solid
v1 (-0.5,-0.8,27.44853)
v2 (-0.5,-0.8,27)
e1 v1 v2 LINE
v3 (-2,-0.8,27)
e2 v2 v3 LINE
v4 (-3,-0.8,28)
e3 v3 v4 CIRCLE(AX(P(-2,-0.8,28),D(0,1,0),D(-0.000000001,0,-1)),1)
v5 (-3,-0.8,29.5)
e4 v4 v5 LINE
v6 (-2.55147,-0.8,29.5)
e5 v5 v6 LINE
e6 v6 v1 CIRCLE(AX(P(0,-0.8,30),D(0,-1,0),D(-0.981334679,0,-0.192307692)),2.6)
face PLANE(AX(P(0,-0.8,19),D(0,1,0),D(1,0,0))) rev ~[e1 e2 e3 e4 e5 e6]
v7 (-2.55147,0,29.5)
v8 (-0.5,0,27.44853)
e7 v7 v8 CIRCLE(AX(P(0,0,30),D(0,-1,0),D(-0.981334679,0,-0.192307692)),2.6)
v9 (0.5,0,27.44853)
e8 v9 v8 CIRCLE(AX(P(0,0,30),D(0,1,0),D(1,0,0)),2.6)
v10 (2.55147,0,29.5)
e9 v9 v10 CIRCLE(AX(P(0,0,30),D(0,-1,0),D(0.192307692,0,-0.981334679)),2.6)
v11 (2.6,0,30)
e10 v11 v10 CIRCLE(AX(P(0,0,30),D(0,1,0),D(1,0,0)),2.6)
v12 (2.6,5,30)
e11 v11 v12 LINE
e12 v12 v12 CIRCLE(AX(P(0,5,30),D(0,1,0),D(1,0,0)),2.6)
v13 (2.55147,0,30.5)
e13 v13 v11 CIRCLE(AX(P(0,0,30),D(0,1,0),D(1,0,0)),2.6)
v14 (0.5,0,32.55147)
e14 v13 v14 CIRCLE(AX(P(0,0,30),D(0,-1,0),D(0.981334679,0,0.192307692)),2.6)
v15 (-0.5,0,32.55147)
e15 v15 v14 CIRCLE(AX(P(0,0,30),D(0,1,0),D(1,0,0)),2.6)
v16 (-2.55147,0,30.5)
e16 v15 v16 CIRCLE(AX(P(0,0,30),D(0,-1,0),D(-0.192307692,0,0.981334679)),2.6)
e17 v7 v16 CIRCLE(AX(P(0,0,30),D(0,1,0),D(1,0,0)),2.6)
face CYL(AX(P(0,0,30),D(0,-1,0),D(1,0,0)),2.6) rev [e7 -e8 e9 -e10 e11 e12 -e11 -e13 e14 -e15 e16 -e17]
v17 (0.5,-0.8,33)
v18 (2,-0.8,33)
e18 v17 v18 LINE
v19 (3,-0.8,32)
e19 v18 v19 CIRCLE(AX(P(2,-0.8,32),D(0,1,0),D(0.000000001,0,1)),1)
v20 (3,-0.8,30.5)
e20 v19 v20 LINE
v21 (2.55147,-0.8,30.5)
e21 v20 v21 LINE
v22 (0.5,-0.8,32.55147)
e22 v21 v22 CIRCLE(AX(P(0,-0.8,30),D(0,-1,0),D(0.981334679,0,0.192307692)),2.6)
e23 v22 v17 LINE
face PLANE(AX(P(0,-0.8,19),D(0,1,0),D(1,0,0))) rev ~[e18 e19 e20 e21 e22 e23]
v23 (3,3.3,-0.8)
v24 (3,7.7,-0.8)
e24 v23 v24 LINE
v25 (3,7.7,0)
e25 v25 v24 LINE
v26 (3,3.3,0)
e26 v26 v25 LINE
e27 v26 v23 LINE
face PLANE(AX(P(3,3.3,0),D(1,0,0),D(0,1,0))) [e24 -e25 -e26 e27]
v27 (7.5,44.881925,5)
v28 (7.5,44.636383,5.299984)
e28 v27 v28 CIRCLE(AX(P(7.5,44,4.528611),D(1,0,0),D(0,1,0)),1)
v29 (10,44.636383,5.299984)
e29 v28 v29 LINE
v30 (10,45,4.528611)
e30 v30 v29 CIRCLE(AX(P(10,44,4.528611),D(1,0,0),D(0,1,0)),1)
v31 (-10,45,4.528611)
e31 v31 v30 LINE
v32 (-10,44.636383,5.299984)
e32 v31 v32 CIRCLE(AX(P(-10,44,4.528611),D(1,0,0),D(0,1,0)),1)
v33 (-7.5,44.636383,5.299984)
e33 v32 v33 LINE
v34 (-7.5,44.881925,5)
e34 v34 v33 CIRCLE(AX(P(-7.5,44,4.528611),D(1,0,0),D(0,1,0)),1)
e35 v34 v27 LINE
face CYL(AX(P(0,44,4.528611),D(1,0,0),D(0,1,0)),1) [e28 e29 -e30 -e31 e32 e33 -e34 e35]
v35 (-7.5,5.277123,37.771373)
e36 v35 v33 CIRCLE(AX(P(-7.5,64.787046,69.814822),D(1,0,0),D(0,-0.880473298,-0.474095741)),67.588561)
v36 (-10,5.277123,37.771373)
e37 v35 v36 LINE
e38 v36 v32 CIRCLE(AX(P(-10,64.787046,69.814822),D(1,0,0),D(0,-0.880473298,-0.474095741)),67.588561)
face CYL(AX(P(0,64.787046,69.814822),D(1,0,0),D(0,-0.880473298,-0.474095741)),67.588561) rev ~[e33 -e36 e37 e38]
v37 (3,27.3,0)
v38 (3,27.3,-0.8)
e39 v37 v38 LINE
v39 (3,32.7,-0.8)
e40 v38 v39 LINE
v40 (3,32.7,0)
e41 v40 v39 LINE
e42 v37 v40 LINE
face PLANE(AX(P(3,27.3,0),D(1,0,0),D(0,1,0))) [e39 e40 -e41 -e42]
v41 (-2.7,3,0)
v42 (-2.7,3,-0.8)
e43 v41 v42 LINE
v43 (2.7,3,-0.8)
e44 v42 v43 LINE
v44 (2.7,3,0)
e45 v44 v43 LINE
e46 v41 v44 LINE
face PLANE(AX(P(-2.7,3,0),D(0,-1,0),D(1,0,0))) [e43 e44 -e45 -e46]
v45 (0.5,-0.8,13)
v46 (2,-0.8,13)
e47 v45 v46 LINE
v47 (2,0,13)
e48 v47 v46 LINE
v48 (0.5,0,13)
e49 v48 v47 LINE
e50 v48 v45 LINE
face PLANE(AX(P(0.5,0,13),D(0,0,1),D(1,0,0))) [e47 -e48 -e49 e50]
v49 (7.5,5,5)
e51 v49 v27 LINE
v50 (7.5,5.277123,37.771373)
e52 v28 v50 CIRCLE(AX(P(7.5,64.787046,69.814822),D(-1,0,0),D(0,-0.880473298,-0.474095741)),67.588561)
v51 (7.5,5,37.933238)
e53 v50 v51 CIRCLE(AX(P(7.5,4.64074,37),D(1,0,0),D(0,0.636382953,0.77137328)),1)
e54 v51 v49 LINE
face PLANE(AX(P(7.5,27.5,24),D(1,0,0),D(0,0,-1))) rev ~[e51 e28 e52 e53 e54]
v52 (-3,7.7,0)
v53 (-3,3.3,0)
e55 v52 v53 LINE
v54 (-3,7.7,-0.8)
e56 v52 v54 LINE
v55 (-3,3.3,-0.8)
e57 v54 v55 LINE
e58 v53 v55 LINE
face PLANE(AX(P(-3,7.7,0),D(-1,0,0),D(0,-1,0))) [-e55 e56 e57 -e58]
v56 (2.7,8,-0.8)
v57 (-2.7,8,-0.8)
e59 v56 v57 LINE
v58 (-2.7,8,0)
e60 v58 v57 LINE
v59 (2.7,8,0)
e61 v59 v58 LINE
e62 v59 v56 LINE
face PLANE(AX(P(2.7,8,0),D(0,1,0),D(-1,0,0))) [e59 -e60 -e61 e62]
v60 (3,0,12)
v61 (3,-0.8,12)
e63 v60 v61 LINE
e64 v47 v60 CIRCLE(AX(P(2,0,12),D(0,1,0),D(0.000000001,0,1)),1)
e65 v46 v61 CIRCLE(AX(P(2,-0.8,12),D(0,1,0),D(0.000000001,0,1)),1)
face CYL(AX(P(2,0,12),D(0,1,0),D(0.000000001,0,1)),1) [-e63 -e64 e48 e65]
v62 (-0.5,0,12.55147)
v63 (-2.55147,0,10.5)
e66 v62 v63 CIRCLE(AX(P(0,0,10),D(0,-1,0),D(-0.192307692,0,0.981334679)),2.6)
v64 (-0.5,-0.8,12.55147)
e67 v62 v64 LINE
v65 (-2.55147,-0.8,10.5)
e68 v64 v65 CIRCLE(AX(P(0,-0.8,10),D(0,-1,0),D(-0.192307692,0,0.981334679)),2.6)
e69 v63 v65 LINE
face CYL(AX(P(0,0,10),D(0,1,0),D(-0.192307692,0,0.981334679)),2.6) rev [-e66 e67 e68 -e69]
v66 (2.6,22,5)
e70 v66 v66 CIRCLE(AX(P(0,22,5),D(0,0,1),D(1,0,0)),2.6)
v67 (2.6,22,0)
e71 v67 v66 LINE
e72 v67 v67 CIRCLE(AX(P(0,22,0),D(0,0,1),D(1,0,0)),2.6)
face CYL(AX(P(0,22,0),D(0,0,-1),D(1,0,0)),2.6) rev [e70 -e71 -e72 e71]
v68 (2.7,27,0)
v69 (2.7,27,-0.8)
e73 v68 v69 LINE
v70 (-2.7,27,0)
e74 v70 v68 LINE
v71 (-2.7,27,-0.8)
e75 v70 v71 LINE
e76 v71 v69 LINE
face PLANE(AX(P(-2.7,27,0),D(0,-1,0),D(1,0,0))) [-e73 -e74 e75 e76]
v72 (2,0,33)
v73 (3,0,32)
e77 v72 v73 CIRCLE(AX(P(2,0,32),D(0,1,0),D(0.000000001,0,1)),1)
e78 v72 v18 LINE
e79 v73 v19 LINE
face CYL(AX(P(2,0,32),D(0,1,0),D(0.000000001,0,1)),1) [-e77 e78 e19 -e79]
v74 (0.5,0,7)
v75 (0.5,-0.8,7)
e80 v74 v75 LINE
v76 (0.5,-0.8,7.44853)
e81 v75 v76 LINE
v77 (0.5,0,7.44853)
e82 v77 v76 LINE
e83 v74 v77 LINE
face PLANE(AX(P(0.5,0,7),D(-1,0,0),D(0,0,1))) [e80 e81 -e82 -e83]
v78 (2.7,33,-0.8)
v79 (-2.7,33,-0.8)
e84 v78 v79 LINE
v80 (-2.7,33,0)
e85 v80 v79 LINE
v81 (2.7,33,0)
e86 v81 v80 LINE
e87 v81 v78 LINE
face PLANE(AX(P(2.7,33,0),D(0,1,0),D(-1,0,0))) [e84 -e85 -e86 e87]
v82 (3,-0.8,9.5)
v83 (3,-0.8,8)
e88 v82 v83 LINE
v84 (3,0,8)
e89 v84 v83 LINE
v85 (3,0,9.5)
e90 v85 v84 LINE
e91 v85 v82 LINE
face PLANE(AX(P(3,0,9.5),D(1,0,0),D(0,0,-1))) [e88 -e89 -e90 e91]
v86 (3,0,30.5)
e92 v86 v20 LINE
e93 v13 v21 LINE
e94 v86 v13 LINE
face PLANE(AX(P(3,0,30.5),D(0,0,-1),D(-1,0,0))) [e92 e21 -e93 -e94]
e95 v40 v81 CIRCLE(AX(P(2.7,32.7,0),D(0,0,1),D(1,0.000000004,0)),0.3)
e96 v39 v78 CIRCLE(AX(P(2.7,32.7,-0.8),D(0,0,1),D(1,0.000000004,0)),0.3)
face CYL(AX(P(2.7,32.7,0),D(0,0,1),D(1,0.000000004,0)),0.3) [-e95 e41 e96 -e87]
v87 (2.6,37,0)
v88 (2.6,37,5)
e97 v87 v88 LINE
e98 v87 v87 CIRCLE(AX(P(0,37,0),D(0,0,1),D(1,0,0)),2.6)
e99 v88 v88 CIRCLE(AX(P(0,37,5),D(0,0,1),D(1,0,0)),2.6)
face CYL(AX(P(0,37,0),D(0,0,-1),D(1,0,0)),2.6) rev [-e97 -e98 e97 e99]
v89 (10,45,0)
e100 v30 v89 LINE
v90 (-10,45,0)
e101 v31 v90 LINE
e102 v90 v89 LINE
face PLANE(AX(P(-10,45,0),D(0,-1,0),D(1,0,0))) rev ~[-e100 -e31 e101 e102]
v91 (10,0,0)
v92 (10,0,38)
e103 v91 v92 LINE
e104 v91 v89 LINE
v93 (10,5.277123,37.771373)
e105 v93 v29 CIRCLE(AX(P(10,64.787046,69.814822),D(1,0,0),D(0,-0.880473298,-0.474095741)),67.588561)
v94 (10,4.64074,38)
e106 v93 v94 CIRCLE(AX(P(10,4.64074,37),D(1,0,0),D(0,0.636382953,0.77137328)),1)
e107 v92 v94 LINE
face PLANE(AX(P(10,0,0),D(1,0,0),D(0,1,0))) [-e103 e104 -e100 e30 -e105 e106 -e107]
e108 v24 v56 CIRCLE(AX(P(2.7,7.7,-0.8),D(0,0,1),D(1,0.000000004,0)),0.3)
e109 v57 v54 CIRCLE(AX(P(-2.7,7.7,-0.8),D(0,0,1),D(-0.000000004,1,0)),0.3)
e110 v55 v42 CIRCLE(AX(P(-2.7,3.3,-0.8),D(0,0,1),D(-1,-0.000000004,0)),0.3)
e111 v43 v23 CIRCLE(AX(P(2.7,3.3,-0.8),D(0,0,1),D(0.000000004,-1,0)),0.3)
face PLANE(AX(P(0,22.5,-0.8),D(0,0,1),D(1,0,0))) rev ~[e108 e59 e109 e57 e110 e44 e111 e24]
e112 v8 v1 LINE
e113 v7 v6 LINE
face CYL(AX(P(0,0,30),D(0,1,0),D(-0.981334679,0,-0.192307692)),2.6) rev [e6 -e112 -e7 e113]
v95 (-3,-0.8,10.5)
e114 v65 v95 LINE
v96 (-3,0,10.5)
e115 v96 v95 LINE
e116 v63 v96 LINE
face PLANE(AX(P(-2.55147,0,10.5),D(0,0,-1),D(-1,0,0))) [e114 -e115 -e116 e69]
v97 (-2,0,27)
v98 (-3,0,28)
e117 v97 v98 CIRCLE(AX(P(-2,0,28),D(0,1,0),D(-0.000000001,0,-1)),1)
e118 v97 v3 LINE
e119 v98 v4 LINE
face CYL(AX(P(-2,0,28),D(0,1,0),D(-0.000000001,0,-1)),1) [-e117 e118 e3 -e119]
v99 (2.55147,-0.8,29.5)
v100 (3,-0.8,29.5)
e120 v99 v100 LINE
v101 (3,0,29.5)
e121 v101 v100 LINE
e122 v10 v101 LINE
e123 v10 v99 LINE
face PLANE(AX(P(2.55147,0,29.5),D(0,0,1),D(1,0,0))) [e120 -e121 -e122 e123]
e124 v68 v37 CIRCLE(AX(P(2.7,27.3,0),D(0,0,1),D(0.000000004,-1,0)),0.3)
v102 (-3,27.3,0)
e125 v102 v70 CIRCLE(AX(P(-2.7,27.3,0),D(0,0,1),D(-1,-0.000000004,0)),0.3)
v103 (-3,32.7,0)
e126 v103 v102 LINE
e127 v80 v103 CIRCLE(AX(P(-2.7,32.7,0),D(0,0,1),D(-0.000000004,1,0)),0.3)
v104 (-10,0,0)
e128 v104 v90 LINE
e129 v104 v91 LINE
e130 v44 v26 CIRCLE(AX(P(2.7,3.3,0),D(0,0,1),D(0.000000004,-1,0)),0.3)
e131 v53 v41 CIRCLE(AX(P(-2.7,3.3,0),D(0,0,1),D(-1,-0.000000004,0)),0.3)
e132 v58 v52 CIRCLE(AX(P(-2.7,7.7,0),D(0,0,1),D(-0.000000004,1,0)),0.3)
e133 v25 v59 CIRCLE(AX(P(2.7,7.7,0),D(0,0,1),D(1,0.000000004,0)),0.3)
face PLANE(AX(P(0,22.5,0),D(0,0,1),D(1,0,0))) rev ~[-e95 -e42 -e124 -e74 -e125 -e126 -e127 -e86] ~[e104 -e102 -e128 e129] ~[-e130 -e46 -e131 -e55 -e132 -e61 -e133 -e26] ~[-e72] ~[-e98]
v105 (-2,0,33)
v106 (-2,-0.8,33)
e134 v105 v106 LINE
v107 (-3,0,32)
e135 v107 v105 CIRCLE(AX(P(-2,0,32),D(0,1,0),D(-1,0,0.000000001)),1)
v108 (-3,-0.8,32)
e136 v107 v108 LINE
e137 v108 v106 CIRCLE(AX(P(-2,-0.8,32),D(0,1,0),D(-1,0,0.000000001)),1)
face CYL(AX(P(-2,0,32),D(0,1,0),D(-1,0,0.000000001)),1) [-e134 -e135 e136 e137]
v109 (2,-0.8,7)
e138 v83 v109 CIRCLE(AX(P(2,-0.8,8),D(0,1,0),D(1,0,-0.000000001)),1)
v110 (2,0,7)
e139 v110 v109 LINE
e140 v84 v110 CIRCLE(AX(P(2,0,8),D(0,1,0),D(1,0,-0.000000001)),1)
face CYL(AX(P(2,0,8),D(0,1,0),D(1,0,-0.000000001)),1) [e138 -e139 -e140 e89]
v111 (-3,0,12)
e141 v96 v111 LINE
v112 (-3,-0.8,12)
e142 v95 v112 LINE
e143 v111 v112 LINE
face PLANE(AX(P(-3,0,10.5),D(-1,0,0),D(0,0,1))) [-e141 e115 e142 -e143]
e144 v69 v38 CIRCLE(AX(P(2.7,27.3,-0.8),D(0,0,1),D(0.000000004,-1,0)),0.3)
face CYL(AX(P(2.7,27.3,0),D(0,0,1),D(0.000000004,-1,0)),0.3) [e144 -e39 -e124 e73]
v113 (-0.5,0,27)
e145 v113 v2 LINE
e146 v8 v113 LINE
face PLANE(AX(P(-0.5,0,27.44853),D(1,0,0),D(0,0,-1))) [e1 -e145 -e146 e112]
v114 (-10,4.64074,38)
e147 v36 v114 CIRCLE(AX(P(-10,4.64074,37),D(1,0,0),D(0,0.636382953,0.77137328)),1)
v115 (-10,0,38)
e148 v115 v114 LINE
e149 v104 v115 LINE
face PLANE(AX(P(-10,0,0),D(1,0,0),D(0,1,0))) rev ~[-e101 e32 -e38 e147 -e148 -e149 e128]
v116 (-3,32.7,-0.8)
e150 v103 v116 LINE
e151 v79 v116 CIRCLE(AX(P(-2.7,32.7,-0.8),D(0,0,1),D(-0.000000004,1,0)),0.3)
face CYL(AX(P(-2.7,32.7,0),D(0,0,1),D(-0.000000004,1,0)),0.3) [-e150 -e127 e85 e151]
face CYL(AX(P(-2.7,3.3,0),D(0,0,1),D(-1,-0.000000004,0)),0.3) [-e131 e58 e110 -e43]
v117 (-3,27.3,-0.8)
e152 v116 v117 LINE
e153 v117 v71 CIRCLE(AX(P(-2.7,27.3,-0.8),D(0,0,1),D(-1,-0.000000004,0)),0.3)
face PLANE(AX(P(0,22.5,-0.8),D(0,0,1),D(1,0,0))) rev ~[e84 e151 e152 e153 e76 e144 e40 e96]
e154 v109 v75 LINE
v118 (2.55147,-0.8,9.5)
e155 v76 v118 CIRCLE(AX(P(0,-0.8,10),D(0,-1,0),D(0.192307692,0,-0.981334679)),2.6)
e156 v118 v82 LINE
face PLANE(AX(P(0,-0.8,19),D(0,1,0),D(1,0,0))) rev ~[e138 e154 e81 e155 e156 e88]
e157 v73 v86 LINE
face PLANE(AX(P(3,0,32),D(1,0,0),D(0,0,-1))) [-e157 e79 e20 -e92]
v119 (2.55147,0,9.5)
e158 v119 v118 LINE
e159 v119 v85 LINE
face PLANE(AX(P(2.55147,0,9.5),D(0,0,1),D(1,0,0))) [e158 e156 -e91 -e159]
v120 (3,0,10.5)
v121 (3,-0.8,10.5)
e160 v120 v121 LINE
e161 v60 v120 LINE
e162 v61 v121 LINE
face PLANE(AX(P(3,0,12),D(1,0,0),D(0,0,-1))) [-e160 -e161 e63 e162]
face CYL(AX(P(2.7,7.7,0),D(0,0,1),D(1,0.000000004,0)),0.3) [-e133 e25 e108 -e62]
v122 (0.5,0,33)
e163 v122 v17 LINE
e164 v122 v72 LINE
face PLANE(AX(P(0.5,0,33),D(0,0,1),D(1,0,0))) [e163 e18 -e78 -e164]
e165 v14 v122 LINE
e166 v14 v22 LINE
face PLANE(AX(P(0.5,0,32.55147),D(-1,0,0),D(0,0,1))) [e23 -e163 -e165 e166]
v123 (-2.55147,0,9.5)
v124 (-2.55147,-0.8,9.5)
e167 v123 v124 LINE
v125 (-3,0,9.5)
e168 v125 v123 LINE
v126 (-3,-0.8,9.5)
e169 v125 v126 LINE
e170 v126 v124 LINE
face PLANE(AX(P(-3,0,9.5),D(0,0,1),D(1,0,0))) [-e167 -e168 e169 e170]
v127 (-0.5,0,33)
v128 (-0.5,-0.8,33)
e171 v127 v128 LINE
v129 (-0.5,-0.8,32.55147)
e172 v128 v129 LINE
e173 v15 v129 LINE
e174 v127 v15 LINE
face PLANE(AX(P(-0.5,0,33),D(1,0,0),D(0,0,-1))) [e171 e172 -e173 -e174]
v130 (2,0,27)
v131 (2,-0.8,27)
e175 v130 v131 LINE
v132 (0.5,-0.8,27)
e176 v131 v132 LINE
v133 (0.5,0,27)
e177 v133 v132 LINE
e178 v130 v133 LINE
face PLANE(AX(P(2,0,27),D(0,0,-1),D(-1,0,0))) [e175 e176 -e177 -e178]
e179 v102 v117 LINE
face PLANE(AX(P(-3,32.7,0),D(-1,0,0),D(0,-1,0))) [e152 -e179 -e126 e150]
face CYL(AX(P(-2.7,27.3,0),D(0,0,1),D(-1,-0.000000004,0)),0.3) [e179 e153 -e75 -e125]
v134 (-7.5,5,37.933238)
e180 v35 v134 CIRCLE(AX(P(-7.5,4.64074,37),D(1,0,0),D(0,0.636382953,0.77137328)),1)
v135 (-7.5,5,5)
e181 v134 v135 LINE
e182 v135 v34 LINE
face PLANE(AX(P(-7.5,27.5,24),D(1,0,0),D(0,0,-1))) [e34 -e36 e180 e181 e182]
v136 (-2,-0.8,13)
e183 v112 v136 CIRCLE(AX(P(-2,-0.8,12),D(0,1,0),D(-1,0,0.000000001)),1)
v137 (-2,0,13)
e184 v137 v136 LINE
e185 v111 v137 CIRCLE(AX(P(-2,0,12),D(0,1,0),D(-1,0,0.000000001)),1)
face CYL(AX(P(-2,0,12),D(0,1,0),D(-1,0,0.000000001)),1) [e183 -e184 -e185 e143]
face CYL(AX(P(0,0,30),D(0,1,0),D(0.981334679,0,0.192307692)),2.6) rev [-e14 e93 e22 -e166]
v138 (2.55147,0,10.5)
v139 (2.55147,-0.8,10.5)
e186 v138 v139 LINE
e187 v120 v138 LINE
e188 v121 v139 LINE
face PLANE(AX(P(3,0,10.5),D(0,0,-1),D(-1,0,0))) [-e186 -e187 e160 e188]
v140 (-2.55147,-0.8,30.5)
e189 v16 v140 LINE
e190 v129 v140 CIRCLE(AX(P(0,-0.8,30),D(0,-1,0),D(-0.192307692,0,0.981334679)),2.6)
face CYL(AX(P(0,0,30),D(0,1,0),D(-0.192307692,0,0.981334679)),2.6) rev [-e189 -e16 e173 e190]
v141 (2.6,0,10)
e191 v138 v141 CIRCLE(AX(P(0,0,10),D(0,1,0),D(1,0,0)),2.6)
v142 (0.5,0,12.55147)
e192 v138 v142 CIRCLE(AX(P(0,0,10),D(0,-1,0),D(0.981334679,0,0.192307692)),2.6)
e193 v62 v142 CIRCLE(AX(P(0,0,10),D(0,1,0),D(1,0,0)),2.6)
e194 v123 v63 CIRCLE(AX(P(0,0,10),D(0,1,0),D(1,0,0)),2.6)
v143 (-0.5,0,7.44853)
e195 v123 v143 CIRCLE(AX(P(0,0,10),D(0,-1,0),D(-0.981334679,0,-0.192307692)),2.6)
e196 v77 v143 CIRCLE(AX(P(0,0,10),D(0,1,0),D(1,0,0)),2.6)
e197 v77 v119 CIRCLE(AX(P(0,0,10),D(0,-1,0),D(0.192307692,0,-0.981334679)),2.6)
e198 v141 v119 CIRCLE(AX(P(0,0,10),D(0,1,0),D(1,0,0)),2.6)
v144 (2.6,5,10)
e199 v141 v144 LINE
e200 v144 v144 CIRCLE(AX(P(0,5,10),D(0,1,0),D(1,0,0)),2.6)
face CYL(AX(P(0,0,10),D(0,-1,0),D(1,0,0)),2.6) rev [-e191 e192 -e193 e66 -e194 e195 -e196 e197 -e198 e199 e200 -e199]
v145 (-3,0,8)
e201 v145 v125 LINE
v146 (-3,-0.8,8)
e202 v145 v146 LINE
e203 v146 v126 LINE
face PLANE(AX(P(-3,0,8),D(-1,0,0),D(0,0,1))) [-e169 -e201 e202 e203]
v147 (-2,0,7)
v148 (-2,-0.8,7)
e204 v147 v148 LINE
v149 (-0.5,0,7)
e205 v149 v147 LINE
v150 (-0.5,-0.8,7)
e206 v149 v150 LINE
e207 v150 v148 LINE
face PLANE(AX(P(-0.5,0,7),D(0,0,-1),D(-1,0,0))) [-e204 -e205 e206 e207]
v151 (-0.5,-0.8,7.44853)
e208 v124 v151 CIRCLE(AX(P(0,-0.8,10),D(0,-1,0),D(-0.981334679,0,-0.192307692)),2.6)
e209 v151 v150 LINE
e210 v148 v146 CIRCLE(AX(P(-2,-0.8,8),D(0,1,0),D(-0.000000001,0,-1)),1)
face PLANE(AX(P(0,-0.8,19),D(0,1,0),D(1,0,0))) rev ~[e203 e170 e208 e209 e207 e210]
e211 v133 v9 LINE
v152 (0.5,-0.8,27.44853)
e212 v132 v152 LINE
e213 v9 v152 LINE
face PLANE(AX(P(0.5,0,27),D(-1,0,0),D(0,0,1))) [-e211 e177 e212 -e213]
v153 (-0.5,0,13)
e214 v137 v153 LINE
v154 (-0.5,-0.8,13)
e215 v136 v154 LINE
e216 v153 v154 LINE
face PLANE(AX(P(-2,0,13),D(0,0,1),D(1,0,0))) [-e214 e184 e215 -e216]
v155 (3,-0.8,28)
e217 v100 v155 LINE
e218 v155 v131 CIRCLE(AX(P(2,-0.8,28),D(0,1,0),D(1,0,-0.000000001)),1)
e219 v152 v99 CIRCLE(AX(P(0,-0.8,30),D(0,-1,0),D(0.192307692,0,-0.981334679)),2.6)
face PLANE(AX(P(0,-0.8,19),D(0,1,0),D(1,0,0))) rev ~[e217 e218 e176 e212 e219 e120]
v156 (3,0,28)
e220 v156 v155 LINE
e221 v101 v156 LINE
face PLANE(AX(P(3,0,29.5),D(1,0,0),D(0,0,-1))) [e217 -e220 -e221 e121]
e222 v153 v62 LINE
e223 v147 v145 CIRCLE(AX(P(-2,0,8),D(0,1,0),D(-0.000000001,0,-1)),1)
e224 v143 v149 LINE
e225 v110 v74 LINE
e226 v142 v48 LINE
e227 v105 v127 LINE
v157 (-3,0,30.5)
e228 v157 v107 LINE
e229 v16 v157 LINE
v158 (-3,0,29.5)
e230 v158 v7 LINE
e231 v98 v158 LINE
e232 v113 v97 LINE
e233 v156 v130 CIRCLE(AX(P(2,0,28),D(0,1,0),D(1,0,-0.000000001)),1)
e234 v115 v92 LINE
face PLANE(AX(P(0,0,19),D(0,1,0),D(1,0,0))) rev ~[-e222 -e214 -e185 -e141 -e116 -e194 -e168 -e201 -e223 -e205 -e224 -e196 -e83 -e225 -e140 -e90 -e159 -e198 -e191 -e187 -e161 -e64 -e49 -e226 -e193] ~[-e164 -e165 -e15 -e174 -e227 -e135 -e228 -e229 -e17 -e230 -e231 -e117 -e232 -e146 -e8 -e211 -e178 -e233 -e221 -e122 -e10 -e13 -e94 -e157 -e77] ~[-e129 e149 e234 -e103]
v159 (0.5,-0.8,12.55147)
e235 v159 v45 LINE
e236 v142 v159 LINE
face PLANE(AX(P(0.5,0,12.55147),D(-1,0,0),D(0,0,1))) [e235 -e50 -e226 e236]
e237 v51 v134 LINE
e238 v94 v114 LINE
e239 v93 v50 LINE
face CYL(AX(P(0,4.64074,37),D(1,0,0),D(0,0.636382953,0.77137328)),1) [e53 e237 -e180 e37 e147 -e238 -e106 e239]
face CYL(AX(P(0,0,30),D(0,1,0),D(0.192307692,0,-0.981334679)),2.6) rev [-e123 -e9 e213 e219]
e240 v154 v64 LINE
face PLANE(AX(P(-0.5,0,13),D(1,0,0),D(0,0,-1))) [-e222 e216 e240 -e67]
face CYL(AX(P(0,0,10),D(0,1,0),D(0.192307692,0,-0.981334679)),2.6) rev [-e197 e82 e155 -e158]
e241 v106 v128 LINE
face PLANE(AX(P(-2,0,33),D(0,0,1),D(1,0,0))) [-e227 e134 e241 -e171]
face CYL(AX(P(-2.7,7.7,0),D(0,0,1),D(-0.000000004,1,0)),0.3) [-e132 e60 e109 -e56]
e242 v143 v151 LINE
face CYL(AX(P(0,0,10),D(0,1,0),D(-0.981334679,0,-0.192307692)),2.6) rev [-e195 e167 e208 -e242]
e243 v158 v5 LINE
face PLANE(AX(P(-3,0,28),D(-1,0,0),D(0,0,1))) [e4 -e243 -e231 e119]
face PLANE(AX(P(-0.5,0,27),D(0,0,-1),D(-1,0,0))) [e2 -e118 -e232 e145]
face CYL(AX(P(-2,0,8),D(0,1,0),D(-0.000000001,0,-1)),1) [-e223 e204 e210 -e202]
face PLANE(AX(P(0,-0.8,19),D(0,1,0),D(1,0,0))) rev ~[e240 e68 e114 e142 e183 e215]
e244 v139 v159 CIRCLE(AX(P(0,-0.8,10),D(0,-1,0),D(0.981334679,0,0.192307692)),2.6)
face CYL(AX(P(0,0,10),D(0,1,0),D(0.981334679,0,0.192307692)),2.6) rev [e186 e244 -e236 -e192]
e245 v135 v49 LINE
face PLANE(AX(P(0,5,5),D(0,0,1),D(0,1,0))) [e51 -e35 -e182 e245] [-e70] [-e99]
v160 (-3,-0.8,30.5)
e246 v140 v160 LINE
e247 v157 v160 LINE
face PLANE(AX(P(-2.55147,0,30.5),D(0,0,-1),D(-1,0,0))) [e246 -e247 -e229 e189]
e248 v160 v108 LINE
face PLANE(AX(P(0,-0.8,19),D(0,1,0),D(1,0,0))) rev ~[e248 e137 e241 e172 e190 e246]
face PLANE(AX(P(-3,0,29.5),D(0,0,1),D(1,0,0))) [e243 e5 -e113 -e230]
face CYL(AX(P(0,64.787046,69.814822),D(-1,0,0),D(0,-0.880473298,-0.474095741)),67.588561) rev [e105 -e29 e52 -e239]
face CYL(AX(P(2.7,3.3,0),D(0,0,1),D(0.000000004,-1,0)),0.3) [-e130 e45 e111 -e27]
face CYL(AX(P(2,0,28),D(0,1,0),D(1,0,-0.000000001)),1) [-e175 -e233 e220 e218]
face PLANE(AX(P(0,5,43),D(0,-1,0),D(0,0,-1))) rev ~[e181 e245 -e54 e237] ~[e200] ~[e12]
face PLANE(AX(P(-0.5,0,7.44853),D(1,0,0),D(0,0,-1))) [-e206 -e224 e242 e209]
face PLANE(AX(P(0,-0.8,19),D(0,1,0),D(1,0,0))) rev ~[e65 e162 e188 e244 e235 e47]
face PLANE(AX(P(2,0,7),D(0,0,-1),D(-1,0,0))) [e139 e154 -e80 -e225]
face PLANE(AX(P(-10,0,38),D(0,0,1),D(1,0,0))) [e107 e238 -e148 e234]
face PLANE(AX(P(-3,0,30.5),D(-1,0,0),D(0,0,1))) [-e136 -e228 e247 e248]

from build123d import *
from build123d.topology import SkipClean

# Parameters (mm, degrees)
BOSS_EXTRUDE1_DEPTH      = 10
BOSS_EXTRUDE1_DEPTH_BACK = 10
CUT_EXTRUDE1_DEPTH       = 7.5
CUT_EXTRUDE1_DEPTH_BACK  = 7.5
SKETCH2_W                = 38
SKETCH2_H                = 45
CUT_EXTRUDE2_DEPTH       = 10
CUT_EXTRUDE2_DEPTH_BACK  = 10
SKETCH4_R                = 2.6
CUT_EXTRUDE3_DEPTH       = 5
SKETCH5_R                = 2.6
CUT_EXTRUDE4_DEPTH       = 5
SKETCH6_R                = 2.6
CUT_EXTRUDE5_DEPTH       = 5
SKETCH7_R                = 2.6
CUT_EXTRUDE6_DEPTH       = 5
SKETCH8_W                = 20
SKETCH8_H                = 38
BOSS_EXTRUDE2_DEPTH      = 0.8
SKETCH9_W                = 20
SKETCH9_H                = 45
BOSS_EXTRUDE3_DEPTH      = 0.8
CUT_EXTRUDE7_START       = -0.8
SKETCH10_W               = 20
SKETCH10_H               = 38
CUT_EXTRUDE7_DEPTH       = 0.8
SKETCH11_W               = 20
SKETCH11_H               = 45
CUT_EXTRUDE8_DEPTH       = 1.25


with BuildPart() as part:
    # Sketch1 → Boss-Extrude1 (new, two sides: drawn at the far end of the back side and taken through both)
    with BuildSketch(Plane(origin=(0, 0, 0), x_dir=(0, 0, -1), z_dir=(1, 0, 0)).offset(-BOSS_EXTRUDE1_DEPTH_BACK)):
        with BuildLine():
            Line((-38, 0), (0, 0))
            Line((0, 0), (0, 45))
            Line((0, 45), (-4.528610784, 45))
            ThreePointArc((-4.528610784, 45), (-4.95500089, 44.904539373), (-5.299984062, 44.636382955))
            Line((-5.299984062, 44.636382955), (-37.771373279, 5.277123299))
            ThreePointArc((-37.771373279, 5.277123299), (-37.94110926, 4.978842933), (-38, 4.640740344))
            Line((-38, 4.640740344), (-38, 0))
        make_face()
    extrude(amount=BOSS_EXTRUDE1_DEPTH + BOSS_EXTRUDE1_DEPTH_BACK)

    # Sketch2 → Cut-Extrude1 (cut, two sides: drawn at the far end of the back side and taken through both)
    with BuildSketch(Plane(origin=(0, 0, 0), x_dir=(0, 0, -1), z_dir=(1, 0, 0)).offset(-CUT_EXTRUDE1_DEPTH_BACK)):
        with Locations((-24, 27.5)):
            Rectangle(SKETCH2_W, SKETCH2_H)
    extrude(amount=CUT_EXTRUDE1_DEPTH + CUT_EXTRUDE1_DEPTH_BACK, mode=Mode.SUBTRACT)

    # Sketch3 → Cut-Extrude2 (cut, two sides: drawn at the far end of the back side and taken through both)
    with BuildSketch(Plane(origin=(0, 0, 0), x_dir=(0, 0, -1), z_dir=(1, 0, 0)).offset(-CUT_EXTRUDE2_DEPTH_BACK)):
        with BuildLine():
            Line((-5.299984062, 44.636382955), (-37.771373279, 5.277123299))
            ThreePointArc((-37.771373279, 5.277123299), (-17.678812278, 21.774838353), (-5.299984062, 44.636382955))
        make_face()
    extrude(amount=CUT_EXTRUDE2_DEPTH + CUT_EXTRUDE2_DEPTH_BACK, mode=Mode.SUBTRACT)

    # Sketch4 → Cut-Extrude3 (cut)
    with BuildSketch(Plane(origin=(0, 0, 0), x_dir=(1, 0, 0), z_dir=(0, 1, 0))):
        with Locations((0, -10)):
            Circle(SKETCH4_R)
    extrude(amount=CUT_EXTRUDE3_DEPTH, mode=Mode.SUBTRACT)

    # Sketch5 → Cut-Extrude4 (cut)
    with BuildSketch(Plane(origin=(0, 0, 0), x_dir=(1, 0, 0), z_dir=(0, 1, 0))):
        with Locations((0, -30)):
            Circle(SKETCH5_R)
    extrude(amount=CUT_EXTRUDE4_DEPTH, mode=Mode.SUBTRACT)

    # Sketch6 → Cut-Extrude5 (cut)
    with BuildSketch(Plane.XY):
        with Locations((0, 22)):
            Circle(SKETCH6_R)
    extrude(amount=CUT_EXTRUDE5_DEPTH, mode=Mode.SUBTRACT)

    # Sketch7 → Cut-Extrude6 (cut)
    with BuildSketch(Plane.XY):
        with Locations((0, 37)):
            Circle(SKETCH7_R)
    extrude(amount=CUT_EXTRUDE6_DEPTH, mode=Mode.SUBTRACT)

    # Sketch8 → Boss-Extrude2 (add)
    with BuildSketch(Plane(origin=(0, 0, 0), x_dir=(1, 0, 0), z_dir=(0, 1, 0))):
        with Locations((0, -19)):
            Rectangle(SKETCH8_W, SKETCH8_H)
    extrude(amount=-BOSS_EXTRUDE2_DEPTH)

    # Sketch9 → Boss-Extrude3 (add)
    with BuildSketch(Plane.XY):
        with Locations((0, 22.5)):
            Rectangle(SKETCH9_W, SKETCH9_H)
    extrude(amount=-BOSS_EXTRUDE3_DEPTH)

    # Sketch10 → Cut-Extrude7 (cut)
    with SkipClean():  # the faces are left unmerged after this step: merging them gives an invalid solid
        with BuildSketch(Plane(origin=(0, 0, 0), x_dir=(1, 0, 0), z_dir=(0, 1, 0)).offset(CUT_EXTRUDE7_START)):
            with Locations((0, -19)):
                Rectangle(SKETCH10_W, SKETCH10_H)
            with BuildLine():
                Line((0.5, -33), (2, -33))
                ThreePointArc((2, -33), (2.707106781, -32.707106781), (3, -32))
                Line((3, -32), (3, -30.5))
                Line((3, -30.5), (2.551470164, -30.5))
                ThreePointArc((2.551470164, -30.5), (1.838477631, -31.838477631), (0.5, -32.551470164))
                Line((0.5, -32.551470164), (0.5, -33))
            make_face(mode=Mode.SUBTRACT)
            with BuildLine():
                Line((0.5, -27), (0.5, -27.448529836))
                ThreePointArc((0.5, -27.448529836), (1.838477631, -28.161522369), (2.551470164, -29.5))
                Line((2.551470164, -29.5), (3, -29.5))
                Line((3, -29.5), (3, -28))
                ThreePointArc((3, -28), (2.707106781, -27.292893219), (2, -27))
                Line((2, -27), (0.5, -27))
            make_face(mode=Mode.SUBTRACT)
            with BuildLine():
                Line((0.5, -13), (2, -13))
                ThreePointArc((2, -13), (2.707106781, -12.707106781), (3, -12))
                Line((3, -12), (3, -10.5))
                Line((3, -10.5), (2.551470164, -10.5))
                ThreePointArc((2.551470164, -10.5), (1.838477631, -11.838477631), (0.5, -12.551470164))
                Line((0.5, -12.551470164), (0.5, -13))
            make_face(mode=Mode.SUBTRACT)
            with BuildLine():
                Line((0.5, -7), (0.5, -7.448529836))
                ThreePointArc((0.5, -7.448529836), (1.838477631, -8.161522369), (2.551470164, -9.5))
                Line((2.551470164, -9.5), (3, -9.5))
                Line((3, -9.5), (3, -8))
                ThreePointArc((3, -8), (2.707106781, -7.292893219), (2, -7))
                Line((2, -7), (0.5, -7))
            make_face(mode=Mode.SUBTRACT)
            with BuildLine():
                Line((-2, -33), (-0.5, -33))
                Line((-0.5, -33), (-0.5, -32.551470164))
                ThreePointArc((-0.5, -32.551470164), (-1.838477631, -31.838477631), (-2.551470164, -30.5))
                Line((-2.551470164, -30.5), (-3, -30.5))
                Line((-3, -30.5), (-3, -32))
                ThreePointArc((-3, -32), (-2.707106781, -32.707106781), (-2, -33))
            make_face(mode=Mode.SUBTRACT)
            with BuildLine():
                Line((-3, -29.5), (-2.551470164, -29.5))
                ThreePointArc((-2.551470164, -29.5), (-1.838477631, -28.161522369), (-0.5, -27.448529836))
                Line((-0.5, -27.448529836), (-0.5, -27))
                Line((-0.5, -27), (-2, -27))
                ThreePointArc((-2, -27), (-2.707106781, -27.292893219), (-3, -28))
                Line((-3, -28), (-3, -29.5))
            make_face(mode=Mode.SUBTRACT)
            with BuildLine():
                Line((-2, -13), (-0.5, -13))
                Line((-0.5, -13), (-0.5, -12.551470164))
                ThreePointArc((-0.5, -12.551470164), (-1.838477631, -11.838477631), (-2.551470164, -10.5))
                Line((-2.551470164, -10.5), (-3, -10.5))
                Line((-3, -10.5), (-3, -12))
                ThreePointArc((-3, -12), (-2.707106781, -12.707106781), (-2, -13))
            make_face(mode=Mode.SUBTRACT)
            with BuildLine():
                Line((-3, -9.5), (-2.551470164, -9.5))
                ThreePointArc((-2.551470164, -9.5), (-1.838477631, -8.161522369), (-0.5, -7.448529836))
                Line((-0.5, -7.448529836), (-0.5, -7))
                Line((-0.5, -7), (-2, -7))
                ThreePointArc((-2, -7), (-2.707106781, -7.292893219), (-3, -8))
                Line((-3, -8), (-3, -9.5))
            make_face(mode=Mode.SUBTRACT)
        extrude(amount=CUT_EXTRUDE7_DEPTH, mode=Mode.SUBTRACT)

    # Sketch11 → Cut-Extrude8 (cut)
    with SkipClean():  # the faces are left unmerged after this step: merging them gives an invalid solid
        with BuildSketch(Plane.XY):
            with Locations((0, 22.5)):
                Rectangle(SKETCH11_W, SKETCH11_H)
            with BuildLine():
                Line((-2.7, 27), (2.7, 27))
                ThreePointArc((2.7, 27), (2.912132034, 27.087867966), (3, 27.3))
                Line((3, 27.3), (3, 32.7))
                ThreePointArc((3, 32.7), (2.912132034, 32.912132034), (2.7, 33))
                Line((2.7, 33), (-2.7, 33))
                ThreePointArc((-2.7, 33), (-2.912132034, 32.912132034), (-3, 32.7))
                Line((-3, 32.7), (-3, 27.3))
                ThreePointArc((-3, 27.3), (-2.912132034, 27.087867966), (-2.7, 27))
            make_face(mode=Mode.SUBTRACT)
            with BuildLine():
                Line((-2.7, 3), (2.7, 3))
                ThreePointArc((2.7, 3), (2.912132034, 3.087867966), (3, 3.3))
                Line((3, 3.3), (3, 7.7))
                ThreePointArc((3, 7.7), (2.912132034, 7.912132034), (2.7, 8))
                Line((2.7, 8), (-2.7, 8))
                ThreePointArc((-2.7, 8), (-2.912132034, 7.912132034), (-3, 7.7))
                Line((-3, 7.7), (-3, 3.3))
                ThreePointArc((-3, 3.3), (-2.912132034, 3.087867966), (-2.7, 3))
            make_face(mode=Mode.SUBTRACT)
        extrude(amount=-CUT_EXTRUDE8_DEPTH, mode=Mode.SUBTRACT)


solid = part.part
